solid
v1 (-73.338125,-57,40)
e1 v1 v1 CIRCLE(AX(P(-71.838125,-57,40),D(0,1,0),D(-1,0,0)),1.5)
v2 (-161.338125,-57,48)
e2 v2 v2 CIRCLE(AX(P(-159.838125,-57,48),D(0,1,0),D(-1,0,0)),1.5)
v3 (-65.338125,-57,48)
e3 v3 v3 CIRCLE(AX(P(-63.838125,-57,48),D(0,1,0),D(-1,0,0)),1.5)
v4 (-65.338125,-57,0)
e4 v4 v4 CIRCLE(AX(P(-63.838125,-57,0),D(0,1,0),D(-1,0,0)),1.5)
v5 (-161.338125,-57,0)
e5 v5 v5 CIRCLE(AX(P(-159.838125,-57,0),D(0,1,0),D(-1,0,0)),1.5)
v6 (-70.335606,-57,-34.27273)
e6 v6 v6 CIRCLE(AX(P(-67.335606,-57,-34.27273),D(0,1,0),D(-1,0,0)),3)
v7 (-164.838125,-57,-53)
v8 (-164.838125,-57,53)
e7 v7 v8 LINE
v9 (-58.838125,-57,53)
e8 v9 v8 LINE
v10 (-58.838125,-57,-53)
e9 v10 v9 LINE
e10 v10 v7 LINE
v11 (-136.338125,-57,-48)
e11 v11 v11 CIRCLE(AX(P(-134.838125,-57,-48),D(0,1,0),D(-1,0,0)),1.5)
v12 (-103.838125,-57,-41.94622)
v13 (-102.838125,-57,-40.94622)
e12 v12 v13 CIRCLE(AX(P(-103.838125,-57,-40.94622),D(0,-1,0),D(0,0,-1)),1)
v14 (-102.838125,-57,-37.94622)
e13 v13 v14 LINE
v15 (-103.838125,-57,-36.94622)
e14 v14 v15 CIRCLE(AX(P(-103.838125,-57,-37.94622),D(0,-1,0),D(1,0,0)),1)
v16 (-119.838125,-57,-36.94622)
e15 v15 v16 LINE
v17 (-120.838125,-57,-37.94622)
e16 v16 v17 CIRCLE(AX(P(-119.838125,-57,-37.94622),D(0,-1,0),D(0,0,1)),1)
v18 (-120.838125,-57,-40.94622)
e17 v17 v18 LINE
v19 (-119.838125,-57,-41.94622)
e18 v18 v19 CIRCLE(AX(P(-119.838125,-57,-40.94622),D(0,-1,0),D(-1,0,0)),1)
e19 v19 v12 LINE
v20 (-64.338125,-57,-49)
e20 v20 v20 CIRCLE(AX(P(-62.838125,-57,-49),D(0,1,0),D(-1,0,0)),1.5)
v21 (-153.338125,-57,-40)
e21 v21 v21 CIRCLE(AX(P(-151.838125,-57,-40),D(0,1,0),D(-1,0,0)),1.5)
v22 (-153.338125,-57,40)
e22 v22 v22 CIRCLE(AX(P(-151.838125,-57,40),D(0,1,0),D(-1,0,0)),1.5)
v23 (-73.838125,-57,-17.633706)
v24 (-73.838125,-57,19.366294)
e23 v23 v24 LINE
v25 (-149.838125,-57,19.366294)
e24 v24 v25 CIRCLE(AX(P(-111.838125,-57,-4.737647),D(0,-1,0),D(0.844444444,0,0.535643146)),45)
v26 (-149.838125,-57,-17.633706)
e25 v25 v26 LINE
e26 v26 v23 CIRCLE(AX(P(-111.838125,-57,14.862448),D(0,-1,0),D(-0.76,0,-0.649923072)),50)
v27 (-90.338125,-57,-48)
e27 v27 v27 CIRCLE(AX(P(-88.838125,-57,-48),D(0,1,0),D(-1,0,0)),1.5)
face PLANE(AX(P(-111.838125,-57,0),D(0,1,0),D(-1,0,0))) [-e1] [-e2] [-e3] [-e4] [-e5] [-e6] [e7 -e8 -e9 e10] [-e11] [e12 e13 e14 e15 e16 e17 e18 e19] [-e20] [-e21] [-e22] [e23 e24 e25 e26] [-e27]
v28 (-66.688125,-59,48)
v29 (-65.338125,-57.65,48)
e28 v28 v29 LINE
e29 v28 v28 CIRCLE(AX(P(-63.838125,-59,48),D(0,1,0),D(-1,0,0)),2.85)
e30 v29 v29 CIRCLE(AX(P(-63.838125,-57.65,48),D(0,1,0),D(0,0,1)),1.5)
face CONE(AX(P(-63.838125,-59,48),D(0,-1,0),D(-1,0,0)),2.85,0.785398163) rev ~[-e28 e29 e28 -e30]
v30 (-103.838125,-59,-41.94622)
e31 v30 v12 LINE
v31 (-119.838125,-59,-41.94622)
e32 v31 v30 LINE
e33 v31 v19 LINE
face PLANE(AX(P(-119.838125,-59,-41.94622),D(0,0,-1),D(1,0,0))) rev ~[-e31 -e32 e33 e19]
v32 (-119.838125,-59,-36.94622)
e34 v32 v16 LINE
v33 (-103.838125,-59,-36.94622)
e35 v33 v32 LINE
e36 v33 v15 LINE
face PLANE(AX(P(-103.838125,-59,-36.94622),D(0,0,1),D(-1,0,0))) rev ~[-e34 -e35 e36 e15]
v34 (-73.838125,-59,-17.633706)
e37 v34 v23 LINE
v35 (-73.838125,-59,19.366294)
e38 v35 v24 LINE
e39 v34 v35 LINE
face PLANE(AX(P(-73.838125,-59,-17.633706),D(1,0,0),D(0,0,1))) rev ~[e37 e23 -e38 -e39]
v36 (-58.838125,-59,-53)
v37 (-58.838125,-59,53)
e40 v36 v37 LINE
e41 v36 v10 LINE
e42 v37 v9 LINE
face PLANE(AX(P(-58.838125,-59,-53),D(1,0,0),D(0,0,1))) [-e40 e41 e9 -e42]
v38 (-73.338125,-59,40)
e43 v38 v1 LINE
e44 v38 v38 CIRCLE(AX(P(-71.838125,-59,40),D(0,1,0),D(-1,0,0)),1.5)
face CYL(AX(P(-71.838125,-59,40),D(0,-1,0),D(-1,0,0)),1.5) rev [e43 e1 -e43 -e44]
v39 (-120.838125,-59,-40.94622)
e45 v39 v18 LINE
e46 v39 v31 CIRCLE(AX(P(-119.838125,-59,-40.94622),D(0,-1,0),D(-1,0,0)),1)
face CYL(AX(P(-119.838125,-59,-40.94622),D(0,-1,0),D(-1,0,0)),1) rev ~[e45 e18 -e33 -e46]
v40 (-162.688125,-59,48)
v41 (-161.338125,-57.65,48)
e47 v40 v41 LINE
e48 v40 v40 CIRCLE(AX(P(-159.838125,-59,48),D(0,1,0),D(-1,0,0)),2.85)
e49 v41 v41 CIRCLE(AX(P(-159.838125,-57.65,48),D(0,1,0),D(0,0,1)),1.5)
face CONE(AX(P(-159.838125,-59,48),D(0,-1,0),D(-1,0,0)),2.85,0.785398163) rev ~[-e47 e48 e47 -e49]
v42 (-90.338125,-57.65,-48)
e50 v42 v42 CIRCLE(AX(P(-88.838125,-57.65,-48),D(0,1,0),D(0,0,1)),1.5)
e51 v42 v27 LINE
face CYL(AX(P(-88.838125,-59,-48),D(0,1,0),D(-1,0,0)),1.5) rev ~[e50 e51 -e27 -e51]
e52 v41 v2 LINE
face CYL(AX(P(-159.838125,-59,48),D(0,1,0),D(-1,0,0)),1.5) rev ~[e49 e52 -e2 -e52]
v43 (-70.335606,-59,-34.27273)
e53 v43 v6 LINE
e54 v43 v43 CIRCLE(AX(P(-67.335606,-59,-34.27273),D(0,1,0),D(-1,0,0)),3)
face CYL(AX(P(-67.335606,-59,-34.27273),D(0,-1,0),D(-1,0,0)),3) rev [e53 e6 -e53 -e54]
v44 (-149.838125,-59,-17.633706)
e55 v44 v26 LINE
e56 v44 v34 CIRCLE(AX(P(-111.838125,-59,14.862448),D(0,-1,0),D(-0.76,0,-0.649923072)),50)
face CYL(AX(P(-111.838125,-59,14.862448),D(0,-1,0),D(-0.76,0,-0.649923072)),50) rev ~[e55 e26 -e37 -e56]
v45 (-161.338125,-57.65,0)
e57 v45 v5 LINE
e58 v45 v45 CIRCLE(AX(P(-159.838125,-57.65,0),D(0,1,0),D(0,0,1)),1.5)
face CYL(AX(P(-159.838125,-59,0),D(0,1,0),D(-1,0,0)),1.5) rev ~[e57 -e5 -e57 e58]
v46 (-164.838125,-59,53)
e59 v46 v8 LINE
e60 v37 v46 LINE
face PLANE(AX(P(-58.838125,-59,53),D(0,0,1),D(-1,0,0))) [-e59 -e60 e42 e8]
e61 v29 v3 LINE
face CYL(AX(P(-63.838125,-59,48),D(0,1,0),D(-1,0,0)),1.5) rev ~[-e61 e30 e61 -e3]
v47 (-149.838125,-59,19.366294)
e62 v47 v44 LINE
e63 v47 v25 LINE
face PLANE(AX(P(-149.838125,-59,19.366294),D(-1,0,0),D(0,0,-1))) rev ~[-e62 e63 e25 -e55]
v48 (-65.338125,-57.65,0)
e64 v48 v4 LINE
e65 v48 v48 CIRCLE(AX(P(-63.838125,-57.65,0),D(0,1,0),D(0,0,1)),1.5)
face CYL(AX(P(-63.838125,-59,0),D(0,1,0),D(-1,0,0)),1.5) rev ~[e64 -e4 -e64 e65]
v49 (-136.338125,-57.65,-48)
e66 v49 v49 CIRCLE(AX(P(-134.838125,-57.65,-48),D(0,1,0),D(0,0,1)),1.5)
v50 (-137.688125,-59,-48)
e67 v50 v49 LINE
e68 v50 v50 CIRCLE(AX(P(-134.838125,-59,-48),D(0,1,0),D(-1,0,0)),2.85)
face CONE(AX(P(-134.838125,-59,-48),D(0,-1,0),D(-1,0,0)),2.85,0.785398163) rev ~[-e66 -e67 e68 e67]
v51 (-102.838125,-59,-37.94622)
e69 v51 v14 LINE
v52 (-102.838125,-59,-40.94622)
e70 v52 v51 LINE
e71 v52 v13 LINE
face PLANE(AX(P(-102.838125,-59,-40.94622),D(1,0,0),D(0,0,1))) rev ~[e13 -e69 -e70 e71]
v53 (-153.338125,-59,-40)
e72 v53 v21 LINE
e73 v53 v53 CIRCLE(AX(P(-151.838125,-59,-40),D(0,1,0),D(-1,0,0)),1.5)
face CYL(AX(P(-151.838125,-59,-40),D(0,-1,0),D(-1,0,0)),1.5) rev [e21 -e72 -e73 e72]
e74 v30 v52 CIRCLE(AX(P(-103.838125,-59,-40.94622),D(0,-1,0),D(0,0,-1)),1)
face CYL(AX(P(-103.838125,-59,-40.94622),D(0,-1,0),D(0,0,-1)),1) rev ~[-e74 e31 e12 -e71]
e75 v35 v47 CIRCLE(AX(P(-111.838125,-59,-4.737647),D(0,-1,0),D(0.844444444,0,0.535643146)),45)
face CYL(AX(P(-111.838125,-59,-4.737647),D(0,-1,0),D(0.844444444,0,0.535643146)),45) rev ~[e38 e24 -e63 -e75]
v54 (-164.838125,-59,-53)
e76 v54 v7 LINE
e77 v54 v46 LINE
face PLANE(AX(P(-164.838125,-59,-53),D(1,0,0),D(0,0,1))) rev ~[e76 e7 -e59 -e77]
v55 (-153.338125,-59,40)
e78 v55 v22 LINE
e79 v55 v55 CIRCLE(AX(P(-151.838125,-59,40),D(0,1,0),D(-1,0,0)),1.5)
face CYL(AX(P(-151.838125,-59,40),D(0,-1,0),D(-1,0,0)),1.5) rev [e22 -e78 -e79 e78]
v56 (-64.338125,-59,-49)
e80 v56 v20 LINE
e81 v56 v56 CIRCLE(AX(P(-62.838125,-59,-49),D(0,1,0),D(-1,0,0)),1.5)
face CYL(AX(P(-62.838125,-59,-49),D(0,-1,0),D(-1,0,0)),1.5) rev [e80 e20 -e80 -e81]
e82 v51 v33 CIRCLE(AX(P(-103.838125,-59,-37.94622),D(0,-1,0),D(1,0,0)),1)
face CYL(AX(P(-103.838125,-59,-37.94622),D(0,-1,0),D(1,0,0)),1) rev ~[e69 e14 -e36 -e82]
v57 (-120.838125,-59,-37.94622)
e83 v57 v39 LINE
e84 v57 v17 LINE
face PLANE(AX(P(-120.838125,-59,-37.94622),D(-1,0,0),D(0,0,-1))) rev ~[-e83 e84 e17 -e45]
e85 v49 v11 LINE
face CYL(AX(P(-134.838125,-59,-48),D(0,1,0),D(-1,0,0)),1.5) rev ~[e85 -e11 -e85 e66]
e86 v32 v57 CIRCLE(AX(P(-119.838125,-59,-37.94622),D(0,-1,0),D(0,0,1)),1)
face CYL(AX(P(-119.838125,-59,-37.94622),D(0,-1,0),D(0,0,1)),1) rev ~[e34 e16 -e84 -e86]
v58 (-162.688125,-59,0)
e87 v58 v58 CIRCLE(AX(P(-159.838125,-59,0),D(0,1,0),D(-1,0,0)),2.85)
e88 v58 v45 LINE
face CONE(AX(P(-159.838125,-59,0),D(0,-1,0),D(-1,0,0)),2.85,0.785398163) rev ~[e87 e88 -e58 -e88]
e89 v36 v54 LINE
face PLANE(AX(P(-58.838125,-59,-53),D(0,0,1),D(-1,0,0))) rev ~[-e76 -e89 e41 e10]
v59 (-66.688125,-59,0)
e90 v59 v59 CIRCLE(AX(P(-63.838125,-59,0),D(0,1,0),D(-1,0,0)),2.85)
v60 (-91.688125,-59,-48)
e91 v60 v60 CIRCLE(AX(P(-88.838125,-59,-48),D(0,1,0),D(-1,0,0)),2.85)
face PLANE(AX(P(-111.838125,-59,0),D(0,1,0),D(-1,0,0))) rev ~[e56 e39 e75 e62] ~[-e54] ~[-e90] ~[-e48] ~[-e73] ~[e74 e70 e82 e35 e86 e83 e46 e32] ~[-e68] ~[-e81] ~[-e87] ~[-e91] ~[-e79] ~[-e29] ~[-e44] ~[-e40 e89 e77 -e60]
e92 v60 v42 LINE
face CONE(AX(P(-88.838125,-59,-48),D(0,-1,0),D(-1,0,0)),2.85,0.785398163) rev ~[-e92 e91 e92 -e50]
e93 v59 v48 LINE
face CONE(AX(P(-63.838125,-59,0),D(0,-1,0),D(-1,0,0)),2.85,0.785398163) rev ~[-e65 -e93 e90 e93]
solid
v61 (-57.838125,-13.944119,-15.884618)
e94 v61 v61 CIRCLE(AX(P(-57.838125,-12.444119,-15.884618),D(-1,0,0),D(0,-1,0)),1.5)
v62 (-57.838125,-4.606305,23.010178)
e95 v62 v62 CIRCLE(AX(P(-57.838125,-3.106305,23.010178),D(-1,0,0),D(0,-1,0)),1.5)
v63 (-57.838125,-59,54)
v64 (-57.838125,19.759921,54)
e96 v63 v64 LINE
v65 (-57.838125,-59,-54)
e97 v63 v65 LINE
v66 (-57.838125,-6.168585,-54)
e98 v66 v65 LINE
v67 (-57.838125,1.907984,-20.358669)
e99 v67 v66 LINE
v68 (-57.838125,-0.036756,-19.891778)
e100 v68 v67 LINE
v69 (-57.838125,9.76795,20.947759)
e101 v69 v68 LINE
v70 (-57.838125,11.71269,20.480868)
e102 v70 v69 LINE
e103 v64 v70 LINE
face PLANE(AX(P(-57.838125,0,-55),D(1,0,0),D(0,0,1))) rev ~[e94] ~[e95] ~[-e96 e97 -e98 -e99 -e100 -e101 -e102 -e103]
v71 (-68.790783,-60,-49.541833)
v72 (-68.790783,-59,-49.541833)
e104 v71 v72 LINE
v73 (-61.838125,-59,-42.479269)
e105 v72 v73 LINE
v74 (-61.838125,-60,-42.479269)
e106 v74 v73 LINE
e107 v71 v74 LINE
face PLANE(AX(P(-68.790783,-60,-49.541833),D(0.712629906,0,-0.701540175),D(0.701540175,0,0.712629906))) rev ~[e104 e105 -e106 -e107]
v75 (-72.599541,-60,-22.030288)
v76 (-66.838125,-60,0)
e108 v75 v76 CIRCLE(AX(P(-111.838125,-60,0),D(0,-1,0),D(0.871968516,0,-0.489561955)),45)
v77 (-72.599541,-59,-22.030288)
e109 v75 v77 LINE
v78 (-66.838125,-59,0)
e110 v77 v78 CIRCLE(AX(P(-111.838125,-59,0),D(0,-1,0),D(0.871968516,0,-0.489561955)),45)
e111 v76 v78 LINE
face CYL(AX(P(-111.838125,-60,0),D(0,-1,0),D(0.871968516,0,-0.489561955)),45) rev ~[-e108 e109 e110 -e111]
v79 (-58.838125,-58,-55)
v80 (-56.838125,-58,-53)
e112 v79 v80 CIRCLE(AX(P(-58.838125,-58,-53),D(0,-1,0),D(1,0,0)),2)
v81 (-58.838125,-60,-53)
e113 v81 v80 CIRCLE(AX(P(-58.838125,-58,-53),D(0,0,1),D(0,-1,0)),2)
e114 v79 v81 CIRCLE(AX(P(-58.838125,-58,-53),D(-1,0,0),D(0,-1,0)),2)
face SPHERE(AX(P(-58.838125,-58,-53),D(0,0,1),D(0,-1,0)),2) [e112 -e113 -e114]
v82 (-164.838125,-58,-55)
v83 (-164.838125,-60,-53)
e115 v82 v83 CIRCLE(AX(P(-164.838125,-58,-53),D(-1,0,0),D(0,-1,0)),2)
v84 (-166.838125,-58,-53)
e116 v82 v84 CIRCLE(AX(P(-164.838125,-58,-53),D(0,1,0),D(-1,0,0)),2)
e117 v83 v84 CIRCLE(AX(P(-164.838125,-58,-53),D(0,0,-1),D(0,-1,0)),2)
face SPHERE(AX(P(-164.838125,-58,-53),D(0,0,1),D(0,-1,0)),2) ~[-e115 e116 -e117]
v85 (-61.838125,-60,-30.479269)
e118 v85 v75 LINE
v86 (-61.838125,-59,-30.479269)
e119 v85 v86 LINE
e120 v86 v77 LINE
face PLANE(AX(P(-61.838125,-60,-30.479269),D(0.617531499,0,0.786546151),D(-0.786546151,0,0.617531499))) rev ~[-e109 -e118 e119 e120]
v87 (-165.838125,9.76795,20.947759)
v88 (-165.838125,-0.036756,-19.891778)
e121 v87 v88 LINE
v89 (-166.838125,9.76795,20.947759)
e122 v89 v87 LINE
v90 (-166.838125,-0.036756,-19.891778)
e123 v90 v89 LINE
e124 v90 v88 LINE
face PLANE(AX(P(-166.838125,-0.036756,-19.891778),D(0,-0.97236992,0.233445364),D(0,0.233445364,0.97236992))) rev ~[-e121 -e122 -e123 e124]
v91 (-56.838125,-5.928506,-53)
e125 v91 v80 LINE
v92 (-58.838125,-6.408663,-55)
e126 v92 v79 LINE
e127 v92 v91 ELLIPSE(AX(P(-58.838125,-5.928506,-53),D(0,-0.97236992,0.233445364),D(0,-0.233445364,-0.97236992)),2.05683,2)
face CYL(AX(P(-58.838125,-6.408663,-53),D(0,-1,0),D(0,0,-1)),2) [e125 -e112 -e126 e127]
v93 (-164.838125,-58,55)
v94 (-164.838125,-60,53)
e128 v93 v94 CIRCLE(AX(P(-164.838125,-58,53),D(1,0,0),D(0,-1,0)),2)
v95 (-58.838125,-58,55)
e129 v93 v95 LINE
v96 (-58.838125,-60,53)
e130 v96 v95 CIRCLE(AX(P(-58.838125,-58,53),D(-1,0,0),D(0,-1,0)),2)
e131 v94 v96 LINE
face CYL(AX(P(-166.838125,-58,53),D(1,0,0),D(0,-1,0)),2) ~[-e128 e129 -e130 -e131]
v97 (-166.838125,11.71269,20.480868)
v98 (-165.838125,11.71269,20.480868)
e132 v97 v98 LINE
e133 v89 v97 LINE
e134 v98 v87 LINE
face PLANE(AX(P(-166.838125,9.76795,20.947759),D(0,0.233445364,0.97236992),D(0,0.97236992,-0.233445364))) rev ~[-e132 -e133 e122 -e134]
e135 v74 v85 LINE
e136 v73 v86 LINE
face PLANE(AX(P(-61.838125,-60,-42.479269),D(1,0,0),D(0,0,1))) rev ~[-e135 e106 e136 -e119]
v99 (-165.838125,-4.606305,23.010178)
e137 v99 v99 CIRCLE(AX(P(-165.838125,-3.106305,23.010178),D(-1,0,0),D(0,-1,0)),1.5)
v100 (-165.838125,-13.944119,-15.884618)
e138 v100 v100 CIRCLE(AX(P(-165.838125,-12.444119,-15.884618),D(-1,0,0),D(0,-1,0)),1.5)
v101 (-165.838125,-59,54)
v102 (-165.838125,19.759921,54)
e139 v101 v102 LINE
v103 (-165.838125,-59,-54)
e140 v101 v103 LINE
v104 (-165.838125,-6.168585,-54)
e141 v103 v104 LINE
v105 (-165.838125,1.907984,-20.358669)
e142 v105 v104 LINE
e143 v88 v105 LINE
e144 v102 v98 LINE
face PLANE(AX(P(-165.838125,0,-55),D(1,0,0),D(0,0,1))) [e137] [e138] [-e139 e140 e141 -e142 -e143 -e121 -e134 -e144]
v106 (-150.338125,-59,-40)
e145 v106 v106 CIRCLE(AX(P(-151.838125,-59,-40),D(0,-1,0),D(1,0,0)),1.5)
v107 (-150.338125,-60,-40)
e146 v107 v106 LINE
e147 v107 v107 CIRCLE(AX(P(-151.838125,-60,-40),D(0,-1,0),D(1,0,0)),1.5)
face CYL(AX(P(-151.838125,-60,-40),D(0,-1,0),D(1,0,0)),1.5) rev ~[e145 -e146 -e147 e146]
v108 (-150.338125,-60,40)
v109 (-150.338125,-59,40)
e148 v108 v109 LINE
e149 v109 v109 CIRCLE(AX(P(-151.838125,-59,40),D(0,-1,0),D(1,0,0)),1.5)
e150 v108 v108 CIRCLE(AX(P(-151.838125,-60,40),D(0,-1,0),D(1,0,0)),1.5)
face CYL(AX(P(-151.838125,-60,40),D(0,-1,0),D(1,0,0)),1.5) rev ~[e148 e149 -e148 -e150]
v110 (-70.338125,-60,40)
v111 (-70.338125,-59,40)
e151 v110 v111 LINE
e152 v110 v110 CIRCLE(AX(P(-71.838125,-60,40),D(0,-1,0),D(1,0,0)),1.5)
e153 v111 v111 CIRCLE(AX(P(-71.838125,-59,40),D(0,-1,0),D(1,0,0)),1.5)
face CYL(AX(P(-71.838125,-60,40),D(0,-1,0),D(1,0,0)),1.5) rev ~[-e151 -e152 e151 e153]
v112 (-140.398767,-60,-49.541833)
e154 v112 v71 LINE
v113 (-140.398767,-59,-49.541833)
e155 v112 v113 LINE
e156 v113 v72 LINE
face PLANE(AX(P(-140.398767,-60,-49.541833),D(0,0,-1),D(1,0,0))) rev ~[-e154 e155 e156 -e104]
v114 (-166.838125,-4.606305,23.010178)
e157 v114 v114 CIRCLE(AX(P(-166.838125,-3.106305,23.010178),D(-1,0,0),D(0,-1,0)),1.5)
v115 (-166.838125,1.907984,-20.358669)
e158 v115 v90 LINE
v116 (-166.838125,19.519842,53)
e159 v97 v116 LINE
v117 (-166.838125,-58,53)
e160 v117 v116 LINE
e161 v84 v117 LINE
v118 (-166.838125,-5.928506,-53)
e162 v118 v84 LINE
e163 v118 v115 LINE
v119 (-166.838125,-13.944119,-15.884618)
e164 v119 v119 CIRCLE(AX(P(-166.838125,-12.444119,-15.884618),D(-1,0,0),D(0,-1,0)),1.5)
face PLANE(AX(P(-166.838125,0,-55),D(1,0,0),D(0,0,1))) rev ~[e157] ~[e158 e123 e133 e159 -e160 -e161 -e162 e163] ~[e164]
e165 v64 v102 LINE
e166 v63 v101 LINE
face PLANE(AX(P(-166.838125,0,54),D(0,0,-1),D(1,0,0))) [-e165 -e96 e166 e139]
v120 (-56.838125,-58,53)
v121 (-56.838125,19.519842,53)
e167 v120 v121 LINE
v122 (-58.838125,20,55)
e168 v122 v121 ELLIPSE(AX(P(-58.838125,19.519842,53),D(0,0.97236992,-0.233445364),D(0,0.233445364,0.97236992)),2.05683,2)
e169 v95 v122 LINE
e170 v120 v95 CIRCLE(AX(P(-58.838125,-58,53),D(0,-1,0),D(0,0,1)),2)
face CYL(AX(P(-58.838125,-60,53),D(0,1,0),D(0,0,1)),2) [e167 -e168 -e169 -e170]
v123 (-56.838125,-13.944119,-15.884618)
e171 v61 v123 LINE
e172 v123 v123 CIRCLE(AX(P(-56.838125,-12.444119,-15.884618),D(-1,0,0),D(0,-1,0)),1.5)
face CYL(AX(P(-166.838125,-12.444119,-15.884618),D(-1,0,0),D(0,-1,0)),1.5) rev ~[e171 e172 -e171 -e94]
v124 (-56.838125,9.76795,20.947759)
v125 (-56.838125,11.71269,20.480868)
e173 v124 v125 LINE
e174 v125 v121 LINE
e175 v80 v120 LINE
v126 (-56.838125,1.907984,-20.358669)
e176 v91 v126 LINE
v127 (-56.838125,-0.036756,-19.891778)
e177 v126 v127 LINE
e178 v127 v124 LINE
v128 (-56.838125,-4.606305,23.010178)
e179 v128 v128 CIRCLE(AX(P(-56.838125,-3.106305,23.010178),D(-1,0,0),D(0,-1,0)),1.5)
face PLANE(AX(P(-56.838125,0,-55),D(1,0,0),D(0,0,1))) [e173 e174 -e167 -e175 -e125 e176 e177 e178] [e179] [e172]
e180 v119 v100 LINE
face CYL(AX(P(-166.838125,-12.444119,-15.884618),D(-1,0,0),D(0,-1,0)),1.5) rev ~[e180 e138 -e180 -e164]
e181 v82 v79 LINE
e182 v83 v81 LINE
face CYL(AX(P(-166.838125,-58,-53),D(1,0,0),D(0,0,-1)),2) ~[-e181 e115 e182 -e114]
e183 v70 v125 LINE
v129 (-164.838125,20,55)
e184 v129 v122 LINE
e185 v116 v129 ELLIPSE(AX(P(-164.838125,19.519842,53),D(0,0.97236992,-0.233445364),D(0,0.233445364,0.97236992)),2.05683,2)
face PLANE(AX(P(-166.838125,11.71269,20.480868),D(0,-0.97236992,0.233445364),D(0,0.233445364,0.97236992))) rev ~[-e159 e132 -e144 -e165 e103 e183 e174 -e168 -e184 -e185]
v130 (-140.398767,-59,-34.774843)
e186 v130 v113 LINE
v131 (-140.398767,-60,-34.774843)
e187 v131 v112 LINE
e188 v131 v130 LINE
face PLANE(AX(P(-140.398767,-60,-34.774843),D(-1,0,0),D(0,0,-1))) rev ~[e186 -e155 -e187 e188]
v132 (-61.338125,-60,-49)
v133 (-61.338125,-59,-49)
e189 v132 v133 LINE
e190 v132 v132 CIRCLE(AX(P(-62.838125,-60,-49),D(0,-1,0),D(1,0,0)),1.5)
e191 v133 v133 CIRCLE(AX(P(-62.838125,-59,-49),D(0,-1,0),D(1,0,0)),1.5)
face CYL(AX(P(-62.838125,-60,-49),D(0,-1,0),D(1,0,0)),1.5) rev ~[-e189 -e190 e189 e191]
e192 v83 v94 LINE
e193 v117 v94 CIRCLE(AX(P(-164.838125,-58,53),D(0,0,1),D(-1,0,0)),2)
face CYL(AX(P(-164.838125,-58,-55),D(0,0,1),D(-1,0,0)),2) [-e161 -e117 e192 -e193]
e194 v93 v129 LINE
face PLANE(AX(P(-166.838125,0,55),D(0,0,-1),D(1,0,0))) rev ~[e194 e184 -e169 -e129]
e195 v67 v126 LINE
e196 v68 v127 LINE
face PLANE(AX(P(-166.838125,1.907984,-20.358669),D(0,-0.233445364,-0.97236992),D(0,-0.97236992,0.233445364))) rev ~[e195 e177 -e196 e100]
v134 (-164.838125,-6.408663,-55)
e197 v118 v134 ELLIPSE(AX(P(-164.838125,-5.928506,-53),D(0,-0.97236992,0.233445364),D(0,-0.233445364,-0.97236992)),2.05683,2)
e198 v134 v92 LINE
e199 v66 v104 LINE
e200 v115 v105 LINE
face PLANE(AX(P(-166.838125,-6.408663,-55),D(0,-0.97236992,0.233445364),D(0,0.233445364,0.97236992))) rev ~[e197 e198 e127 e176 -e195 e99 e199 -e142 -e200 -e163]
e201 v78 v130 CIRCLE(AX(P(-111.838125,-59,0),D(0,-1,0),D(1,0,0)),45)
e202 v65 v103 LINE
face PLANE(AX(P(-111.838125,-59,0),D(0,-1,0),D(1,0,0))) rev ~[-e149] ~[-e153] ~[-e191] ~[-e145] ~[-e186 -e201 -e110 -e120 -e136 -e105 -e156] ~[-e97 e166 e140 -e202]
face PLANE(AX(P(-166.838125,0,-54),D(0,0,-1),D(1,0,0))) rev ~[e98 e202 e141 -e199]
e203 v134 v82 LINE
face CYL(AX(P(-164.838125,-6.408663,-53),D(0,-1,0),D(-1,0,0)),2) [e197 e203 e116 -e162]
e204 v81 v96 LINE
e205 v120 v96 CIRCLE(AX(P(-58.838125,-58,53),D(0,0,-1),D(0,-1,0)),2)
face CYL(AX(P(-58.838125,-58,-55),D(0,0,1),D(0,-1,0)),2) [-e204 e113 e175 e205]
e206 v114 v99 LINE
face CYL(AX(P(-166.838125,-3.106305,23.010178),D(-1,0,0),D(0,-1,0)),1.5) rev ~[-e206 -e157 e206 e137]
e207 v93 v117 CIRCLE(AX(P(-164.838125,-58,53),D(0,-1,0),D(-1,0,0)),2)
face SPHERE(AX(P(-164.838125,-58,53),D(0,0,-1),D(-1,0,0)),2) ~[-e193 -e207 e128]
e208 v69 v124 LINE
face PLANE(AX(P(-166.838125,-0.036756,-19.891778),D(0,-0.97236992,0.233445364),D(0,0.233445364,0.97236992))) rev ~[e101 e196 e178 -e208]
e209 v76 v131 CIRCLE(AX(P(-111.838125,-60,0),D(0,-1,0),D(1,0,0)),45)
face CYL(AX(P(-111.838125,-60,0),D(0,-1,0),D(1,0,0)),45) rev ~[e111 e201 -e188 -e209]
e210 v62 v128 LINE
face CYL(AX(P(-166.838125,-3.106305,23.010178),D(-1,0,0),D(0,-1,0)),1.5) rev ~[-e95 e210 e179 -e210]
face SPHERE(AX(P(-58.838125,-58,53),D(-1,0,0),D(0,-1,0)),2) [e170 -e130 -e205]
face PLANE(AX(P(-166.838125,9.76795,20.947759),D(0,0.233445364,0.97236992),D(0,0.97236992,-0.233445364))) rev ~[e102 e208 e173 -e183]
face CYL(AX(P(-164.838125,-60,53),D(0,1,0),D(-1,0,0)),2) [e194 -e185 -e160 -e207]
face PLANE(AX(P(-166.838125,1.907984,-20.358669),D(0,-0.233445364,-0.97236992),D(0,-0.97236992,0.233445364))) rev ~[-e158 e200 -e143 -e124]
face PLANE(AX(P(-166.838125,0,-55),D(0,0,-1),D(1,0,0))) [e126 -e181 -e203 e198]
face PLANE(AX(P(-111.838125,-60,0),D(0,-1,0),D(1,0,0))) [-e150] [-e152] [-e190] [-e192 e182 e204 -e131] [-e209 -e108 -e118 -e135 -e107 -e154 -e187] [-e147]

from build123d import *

# Parameters (mm, degrees)
F0_W            = 110
F0_H            = 110
F1_DEPTH        = 60
F2_T            = -1
F3_R            = 1.5
F4_DEPTH        = 110
F5_R            = 2
F6_R            = 1.5
F7_DEPTH        = 1
F8_W            = 106
F8_H            = 106
F8_R            = 1.5
F8_R_2          = 3
F9_DEPTH        = 2
F12_D           = 3
F12_CSINK_D     = 5.7
F12_CSINK_ANGLE = 90


with BuildPart() as f1:
    # F0 (on Front) → F1 (new body, symmetric)
    with BuildSketch(Plane.XZ):
        with Locations((-111.8381246924, 0)):
            Rectangle(F0_W, F0_H)
    extrude(amount=F1_DEPTH, both=True)

    # F2
    f2_openings = [f1.faces().sort_by_distance(p)[0] for p in [
        (-111.838125, 60, 0),
    ]]
    offset(amount=F2_T, openings=f2_openings)

    # F3 (on face) → F4 (cut)
    with BuildSketch(Plane(origin=(-166.8381246924, 0, 0), x_dir=(0, -1, 0), z_dir=(-1, 0, 0))):
        Polygon((-11.7126895831, 20.4808678259), (-20, 55), (-89.8332582524, 55), (-89.8332582524, -55), (6.4086634988, -55), (-1.9079843012, -20.3586688308), align=None)
        Polygon((-9.7679497423, 20.9477585536), (-11.7126895831, 20.4808678259), (-1.9079843012, -20.3586688308), (0.0367555396, -19.8917781031), align=None)
        with Locations((3.1063045867, 23.0101783633)):
            Circle(F3_R)
        with Locations((12.4441191409, -15.8846184526)):
            Circle(F3_R)
    extrude(amount=-F4_DEPTH, mode=Mode.SUBTRACT)

    # F5
    f5_edges = [f1.edges().sort_by_distance(p)[0] for p in [
        (-166.838125, -60, 0),
        (-166.838125, -20, 55),
        (-111.838125, -60, 55),
        (-56.838125, -60, 0),
        (-56.838125, -20, 55),
        (-111.838125, -60, -55),
        (-56.838125, -33.204332, -55),
        (-166.838125, -33.204332, -55),
    ]]
    fillet(f5_edges, radius=F5_R)

    # F6 (on face) → F7 (cut)
    with BuildSketch(Plane.XZ.offset(60)):
        with BuildLine():
            ThreePointArc((-72.5995414842, -22.0302879648), (-68.3022989602, -11.3855995808), (-66.8381246924, 0))
            ThreePointArc((-66.8381246924, 0), (-131.0705335784, 40.6830978226), (-140.3987668455, -34.7748432032))
            ThreePointArc((-140.3987668455, -34.7748432032), (-103.5248504668, -44.2254391911), (-72.5995414842, -22.0302879648))
        make_face()
        with BuildLine():
            ThreePointArc((-72.5995414842, -22.0302879648), (-103.5248504668, -44.2254391911), (-140.3987668455, -34.7748432032))
            Line((-140.3987668455, -34.7748432032), (-140.3987668455, -49.5418331784))
            Line((-140.3987668455, -49.5418331784), (-68.7907829881, -49.5418331784))
            Line((-68.7907829881, -49.5418331784), (-61.8381246924, -42.4792694113))
            Line((-61.8381246924, -42.4792694113), (-61.8381246924, -30.4792694113))
            Line((-61.8381246924, -30.4792694113), (-72.5995414842, -22.0302879648))
        make_face()
        with Locations((-151.8381246924, 40)):
            Circle(F6_R)
        with Locations((-71.8381246924, 40)):
            Circle(F6_R)
        with Locations((-151.8381246924, -40)):
            Circle(F6_R)
        with Locations((-62.8381246924, -49)):
            Circle(F6_R)
    extrude(amount=-F7_DEPTH, mode=Mode.SUBTRACT)


with BuildPart() as f9:
    # F8 (on face) → F9 (new body)
    with BuildSketch(Plane(origin=(0, -59, 0), x_dir=(-1, 0, 0), z_dir=(0, 1, 0))):
        with Locations((111.8381246924, 0)):
            Rectangle(F8_W, F8_H)
        with Locations((62.8381246924, -49)):
            Circle(F8_R, mode=Mode.SUBTRACT)
        with Locations((67.3356056213, -34.2727303505)):
            Circle(F8_R_2, mode=Mode.SUBTRACT)
        with BuildLine():
            ThreePointArc((102.8381246924, -37.9462198019), (103.1310179113, -37.2391130207), (103.8381246924, -36.9462198019))
            Line((103.8381246924, -36.9462198019), (119.8381246924, -36.9462198019))
            ThreePointArc((119.8381246924, -36.9462198019), (120.5452314736, -37.2391130207), (120.8381246924, -37.9462198019))
            Line((120.8381246924, -37.9462198019), (120.8381246924, -40.9462198019))
            ThreePointArc((120.8381246924, -40.9462198019), (120.5452314736, -41.6533265831), (119.8381246924, -41.9462198019))
            Line((119.8381246924, -41.9462198019), (103.8381246924, -41.9462198019))
            ThreePointArc((103.8381246924, -41.9462198019), (103.1310179113, -41.6533265831), (102.8381246924, -40.9462198019))
            Line((102.8381246924, -40.9462198019), (102.8381246924, -37.9462198019))
        make_face(mode=Mode.SUBTRACT)
        with Locations((151.8381246924, -40)):
            Circle(F8_R, mode=Mode.SUBTRACT)
        with Locations((71.8381246924, 40)):
            Circle(F8_R, mode=Mode.SUBTRACT)
        with BuildLine():
            Line((73.8381246924, -17.6337056415), (73.8381246924, 19.3662943585))
            ThreePointArc((73.8381246924, 19.3662943585), (111.8381246924, 40.2623527721), (149.8381246924, 19.3662943585))
            Line((149.8381246924, 19.3662943585), (149.8381246924, -17.6337056415))
            ThreePointArc((149.8381246924, -17.6337056415), (111.8381246924, -35.1375520229), (73.8381246924, -17.6337056415))
        make_face(mode=Mode.SUBTRACT)
        with Locations((151.8381246924, 40)):
            Circle(F8_R, mode=Mode.SUBTRACT)
    extrude(amount=F9_DEPTH)

    # F12 (through all)
    with Locations(Plane.XZ.offset(59)):
        with Locations((-134.8381246924, -48), (-88.8381246924, -48), (-159.8381246924, 48), (-63.8381246924, 48), (-159.8381246924, 0), (-63.8381246924, 0)):
            CounterSinkHole(F12_D / 2, F12_CSINK_D / 2, counter_sink_angle=F12_CSINK_ANGLE)


solid = Compound([f1.part, f9.part])
